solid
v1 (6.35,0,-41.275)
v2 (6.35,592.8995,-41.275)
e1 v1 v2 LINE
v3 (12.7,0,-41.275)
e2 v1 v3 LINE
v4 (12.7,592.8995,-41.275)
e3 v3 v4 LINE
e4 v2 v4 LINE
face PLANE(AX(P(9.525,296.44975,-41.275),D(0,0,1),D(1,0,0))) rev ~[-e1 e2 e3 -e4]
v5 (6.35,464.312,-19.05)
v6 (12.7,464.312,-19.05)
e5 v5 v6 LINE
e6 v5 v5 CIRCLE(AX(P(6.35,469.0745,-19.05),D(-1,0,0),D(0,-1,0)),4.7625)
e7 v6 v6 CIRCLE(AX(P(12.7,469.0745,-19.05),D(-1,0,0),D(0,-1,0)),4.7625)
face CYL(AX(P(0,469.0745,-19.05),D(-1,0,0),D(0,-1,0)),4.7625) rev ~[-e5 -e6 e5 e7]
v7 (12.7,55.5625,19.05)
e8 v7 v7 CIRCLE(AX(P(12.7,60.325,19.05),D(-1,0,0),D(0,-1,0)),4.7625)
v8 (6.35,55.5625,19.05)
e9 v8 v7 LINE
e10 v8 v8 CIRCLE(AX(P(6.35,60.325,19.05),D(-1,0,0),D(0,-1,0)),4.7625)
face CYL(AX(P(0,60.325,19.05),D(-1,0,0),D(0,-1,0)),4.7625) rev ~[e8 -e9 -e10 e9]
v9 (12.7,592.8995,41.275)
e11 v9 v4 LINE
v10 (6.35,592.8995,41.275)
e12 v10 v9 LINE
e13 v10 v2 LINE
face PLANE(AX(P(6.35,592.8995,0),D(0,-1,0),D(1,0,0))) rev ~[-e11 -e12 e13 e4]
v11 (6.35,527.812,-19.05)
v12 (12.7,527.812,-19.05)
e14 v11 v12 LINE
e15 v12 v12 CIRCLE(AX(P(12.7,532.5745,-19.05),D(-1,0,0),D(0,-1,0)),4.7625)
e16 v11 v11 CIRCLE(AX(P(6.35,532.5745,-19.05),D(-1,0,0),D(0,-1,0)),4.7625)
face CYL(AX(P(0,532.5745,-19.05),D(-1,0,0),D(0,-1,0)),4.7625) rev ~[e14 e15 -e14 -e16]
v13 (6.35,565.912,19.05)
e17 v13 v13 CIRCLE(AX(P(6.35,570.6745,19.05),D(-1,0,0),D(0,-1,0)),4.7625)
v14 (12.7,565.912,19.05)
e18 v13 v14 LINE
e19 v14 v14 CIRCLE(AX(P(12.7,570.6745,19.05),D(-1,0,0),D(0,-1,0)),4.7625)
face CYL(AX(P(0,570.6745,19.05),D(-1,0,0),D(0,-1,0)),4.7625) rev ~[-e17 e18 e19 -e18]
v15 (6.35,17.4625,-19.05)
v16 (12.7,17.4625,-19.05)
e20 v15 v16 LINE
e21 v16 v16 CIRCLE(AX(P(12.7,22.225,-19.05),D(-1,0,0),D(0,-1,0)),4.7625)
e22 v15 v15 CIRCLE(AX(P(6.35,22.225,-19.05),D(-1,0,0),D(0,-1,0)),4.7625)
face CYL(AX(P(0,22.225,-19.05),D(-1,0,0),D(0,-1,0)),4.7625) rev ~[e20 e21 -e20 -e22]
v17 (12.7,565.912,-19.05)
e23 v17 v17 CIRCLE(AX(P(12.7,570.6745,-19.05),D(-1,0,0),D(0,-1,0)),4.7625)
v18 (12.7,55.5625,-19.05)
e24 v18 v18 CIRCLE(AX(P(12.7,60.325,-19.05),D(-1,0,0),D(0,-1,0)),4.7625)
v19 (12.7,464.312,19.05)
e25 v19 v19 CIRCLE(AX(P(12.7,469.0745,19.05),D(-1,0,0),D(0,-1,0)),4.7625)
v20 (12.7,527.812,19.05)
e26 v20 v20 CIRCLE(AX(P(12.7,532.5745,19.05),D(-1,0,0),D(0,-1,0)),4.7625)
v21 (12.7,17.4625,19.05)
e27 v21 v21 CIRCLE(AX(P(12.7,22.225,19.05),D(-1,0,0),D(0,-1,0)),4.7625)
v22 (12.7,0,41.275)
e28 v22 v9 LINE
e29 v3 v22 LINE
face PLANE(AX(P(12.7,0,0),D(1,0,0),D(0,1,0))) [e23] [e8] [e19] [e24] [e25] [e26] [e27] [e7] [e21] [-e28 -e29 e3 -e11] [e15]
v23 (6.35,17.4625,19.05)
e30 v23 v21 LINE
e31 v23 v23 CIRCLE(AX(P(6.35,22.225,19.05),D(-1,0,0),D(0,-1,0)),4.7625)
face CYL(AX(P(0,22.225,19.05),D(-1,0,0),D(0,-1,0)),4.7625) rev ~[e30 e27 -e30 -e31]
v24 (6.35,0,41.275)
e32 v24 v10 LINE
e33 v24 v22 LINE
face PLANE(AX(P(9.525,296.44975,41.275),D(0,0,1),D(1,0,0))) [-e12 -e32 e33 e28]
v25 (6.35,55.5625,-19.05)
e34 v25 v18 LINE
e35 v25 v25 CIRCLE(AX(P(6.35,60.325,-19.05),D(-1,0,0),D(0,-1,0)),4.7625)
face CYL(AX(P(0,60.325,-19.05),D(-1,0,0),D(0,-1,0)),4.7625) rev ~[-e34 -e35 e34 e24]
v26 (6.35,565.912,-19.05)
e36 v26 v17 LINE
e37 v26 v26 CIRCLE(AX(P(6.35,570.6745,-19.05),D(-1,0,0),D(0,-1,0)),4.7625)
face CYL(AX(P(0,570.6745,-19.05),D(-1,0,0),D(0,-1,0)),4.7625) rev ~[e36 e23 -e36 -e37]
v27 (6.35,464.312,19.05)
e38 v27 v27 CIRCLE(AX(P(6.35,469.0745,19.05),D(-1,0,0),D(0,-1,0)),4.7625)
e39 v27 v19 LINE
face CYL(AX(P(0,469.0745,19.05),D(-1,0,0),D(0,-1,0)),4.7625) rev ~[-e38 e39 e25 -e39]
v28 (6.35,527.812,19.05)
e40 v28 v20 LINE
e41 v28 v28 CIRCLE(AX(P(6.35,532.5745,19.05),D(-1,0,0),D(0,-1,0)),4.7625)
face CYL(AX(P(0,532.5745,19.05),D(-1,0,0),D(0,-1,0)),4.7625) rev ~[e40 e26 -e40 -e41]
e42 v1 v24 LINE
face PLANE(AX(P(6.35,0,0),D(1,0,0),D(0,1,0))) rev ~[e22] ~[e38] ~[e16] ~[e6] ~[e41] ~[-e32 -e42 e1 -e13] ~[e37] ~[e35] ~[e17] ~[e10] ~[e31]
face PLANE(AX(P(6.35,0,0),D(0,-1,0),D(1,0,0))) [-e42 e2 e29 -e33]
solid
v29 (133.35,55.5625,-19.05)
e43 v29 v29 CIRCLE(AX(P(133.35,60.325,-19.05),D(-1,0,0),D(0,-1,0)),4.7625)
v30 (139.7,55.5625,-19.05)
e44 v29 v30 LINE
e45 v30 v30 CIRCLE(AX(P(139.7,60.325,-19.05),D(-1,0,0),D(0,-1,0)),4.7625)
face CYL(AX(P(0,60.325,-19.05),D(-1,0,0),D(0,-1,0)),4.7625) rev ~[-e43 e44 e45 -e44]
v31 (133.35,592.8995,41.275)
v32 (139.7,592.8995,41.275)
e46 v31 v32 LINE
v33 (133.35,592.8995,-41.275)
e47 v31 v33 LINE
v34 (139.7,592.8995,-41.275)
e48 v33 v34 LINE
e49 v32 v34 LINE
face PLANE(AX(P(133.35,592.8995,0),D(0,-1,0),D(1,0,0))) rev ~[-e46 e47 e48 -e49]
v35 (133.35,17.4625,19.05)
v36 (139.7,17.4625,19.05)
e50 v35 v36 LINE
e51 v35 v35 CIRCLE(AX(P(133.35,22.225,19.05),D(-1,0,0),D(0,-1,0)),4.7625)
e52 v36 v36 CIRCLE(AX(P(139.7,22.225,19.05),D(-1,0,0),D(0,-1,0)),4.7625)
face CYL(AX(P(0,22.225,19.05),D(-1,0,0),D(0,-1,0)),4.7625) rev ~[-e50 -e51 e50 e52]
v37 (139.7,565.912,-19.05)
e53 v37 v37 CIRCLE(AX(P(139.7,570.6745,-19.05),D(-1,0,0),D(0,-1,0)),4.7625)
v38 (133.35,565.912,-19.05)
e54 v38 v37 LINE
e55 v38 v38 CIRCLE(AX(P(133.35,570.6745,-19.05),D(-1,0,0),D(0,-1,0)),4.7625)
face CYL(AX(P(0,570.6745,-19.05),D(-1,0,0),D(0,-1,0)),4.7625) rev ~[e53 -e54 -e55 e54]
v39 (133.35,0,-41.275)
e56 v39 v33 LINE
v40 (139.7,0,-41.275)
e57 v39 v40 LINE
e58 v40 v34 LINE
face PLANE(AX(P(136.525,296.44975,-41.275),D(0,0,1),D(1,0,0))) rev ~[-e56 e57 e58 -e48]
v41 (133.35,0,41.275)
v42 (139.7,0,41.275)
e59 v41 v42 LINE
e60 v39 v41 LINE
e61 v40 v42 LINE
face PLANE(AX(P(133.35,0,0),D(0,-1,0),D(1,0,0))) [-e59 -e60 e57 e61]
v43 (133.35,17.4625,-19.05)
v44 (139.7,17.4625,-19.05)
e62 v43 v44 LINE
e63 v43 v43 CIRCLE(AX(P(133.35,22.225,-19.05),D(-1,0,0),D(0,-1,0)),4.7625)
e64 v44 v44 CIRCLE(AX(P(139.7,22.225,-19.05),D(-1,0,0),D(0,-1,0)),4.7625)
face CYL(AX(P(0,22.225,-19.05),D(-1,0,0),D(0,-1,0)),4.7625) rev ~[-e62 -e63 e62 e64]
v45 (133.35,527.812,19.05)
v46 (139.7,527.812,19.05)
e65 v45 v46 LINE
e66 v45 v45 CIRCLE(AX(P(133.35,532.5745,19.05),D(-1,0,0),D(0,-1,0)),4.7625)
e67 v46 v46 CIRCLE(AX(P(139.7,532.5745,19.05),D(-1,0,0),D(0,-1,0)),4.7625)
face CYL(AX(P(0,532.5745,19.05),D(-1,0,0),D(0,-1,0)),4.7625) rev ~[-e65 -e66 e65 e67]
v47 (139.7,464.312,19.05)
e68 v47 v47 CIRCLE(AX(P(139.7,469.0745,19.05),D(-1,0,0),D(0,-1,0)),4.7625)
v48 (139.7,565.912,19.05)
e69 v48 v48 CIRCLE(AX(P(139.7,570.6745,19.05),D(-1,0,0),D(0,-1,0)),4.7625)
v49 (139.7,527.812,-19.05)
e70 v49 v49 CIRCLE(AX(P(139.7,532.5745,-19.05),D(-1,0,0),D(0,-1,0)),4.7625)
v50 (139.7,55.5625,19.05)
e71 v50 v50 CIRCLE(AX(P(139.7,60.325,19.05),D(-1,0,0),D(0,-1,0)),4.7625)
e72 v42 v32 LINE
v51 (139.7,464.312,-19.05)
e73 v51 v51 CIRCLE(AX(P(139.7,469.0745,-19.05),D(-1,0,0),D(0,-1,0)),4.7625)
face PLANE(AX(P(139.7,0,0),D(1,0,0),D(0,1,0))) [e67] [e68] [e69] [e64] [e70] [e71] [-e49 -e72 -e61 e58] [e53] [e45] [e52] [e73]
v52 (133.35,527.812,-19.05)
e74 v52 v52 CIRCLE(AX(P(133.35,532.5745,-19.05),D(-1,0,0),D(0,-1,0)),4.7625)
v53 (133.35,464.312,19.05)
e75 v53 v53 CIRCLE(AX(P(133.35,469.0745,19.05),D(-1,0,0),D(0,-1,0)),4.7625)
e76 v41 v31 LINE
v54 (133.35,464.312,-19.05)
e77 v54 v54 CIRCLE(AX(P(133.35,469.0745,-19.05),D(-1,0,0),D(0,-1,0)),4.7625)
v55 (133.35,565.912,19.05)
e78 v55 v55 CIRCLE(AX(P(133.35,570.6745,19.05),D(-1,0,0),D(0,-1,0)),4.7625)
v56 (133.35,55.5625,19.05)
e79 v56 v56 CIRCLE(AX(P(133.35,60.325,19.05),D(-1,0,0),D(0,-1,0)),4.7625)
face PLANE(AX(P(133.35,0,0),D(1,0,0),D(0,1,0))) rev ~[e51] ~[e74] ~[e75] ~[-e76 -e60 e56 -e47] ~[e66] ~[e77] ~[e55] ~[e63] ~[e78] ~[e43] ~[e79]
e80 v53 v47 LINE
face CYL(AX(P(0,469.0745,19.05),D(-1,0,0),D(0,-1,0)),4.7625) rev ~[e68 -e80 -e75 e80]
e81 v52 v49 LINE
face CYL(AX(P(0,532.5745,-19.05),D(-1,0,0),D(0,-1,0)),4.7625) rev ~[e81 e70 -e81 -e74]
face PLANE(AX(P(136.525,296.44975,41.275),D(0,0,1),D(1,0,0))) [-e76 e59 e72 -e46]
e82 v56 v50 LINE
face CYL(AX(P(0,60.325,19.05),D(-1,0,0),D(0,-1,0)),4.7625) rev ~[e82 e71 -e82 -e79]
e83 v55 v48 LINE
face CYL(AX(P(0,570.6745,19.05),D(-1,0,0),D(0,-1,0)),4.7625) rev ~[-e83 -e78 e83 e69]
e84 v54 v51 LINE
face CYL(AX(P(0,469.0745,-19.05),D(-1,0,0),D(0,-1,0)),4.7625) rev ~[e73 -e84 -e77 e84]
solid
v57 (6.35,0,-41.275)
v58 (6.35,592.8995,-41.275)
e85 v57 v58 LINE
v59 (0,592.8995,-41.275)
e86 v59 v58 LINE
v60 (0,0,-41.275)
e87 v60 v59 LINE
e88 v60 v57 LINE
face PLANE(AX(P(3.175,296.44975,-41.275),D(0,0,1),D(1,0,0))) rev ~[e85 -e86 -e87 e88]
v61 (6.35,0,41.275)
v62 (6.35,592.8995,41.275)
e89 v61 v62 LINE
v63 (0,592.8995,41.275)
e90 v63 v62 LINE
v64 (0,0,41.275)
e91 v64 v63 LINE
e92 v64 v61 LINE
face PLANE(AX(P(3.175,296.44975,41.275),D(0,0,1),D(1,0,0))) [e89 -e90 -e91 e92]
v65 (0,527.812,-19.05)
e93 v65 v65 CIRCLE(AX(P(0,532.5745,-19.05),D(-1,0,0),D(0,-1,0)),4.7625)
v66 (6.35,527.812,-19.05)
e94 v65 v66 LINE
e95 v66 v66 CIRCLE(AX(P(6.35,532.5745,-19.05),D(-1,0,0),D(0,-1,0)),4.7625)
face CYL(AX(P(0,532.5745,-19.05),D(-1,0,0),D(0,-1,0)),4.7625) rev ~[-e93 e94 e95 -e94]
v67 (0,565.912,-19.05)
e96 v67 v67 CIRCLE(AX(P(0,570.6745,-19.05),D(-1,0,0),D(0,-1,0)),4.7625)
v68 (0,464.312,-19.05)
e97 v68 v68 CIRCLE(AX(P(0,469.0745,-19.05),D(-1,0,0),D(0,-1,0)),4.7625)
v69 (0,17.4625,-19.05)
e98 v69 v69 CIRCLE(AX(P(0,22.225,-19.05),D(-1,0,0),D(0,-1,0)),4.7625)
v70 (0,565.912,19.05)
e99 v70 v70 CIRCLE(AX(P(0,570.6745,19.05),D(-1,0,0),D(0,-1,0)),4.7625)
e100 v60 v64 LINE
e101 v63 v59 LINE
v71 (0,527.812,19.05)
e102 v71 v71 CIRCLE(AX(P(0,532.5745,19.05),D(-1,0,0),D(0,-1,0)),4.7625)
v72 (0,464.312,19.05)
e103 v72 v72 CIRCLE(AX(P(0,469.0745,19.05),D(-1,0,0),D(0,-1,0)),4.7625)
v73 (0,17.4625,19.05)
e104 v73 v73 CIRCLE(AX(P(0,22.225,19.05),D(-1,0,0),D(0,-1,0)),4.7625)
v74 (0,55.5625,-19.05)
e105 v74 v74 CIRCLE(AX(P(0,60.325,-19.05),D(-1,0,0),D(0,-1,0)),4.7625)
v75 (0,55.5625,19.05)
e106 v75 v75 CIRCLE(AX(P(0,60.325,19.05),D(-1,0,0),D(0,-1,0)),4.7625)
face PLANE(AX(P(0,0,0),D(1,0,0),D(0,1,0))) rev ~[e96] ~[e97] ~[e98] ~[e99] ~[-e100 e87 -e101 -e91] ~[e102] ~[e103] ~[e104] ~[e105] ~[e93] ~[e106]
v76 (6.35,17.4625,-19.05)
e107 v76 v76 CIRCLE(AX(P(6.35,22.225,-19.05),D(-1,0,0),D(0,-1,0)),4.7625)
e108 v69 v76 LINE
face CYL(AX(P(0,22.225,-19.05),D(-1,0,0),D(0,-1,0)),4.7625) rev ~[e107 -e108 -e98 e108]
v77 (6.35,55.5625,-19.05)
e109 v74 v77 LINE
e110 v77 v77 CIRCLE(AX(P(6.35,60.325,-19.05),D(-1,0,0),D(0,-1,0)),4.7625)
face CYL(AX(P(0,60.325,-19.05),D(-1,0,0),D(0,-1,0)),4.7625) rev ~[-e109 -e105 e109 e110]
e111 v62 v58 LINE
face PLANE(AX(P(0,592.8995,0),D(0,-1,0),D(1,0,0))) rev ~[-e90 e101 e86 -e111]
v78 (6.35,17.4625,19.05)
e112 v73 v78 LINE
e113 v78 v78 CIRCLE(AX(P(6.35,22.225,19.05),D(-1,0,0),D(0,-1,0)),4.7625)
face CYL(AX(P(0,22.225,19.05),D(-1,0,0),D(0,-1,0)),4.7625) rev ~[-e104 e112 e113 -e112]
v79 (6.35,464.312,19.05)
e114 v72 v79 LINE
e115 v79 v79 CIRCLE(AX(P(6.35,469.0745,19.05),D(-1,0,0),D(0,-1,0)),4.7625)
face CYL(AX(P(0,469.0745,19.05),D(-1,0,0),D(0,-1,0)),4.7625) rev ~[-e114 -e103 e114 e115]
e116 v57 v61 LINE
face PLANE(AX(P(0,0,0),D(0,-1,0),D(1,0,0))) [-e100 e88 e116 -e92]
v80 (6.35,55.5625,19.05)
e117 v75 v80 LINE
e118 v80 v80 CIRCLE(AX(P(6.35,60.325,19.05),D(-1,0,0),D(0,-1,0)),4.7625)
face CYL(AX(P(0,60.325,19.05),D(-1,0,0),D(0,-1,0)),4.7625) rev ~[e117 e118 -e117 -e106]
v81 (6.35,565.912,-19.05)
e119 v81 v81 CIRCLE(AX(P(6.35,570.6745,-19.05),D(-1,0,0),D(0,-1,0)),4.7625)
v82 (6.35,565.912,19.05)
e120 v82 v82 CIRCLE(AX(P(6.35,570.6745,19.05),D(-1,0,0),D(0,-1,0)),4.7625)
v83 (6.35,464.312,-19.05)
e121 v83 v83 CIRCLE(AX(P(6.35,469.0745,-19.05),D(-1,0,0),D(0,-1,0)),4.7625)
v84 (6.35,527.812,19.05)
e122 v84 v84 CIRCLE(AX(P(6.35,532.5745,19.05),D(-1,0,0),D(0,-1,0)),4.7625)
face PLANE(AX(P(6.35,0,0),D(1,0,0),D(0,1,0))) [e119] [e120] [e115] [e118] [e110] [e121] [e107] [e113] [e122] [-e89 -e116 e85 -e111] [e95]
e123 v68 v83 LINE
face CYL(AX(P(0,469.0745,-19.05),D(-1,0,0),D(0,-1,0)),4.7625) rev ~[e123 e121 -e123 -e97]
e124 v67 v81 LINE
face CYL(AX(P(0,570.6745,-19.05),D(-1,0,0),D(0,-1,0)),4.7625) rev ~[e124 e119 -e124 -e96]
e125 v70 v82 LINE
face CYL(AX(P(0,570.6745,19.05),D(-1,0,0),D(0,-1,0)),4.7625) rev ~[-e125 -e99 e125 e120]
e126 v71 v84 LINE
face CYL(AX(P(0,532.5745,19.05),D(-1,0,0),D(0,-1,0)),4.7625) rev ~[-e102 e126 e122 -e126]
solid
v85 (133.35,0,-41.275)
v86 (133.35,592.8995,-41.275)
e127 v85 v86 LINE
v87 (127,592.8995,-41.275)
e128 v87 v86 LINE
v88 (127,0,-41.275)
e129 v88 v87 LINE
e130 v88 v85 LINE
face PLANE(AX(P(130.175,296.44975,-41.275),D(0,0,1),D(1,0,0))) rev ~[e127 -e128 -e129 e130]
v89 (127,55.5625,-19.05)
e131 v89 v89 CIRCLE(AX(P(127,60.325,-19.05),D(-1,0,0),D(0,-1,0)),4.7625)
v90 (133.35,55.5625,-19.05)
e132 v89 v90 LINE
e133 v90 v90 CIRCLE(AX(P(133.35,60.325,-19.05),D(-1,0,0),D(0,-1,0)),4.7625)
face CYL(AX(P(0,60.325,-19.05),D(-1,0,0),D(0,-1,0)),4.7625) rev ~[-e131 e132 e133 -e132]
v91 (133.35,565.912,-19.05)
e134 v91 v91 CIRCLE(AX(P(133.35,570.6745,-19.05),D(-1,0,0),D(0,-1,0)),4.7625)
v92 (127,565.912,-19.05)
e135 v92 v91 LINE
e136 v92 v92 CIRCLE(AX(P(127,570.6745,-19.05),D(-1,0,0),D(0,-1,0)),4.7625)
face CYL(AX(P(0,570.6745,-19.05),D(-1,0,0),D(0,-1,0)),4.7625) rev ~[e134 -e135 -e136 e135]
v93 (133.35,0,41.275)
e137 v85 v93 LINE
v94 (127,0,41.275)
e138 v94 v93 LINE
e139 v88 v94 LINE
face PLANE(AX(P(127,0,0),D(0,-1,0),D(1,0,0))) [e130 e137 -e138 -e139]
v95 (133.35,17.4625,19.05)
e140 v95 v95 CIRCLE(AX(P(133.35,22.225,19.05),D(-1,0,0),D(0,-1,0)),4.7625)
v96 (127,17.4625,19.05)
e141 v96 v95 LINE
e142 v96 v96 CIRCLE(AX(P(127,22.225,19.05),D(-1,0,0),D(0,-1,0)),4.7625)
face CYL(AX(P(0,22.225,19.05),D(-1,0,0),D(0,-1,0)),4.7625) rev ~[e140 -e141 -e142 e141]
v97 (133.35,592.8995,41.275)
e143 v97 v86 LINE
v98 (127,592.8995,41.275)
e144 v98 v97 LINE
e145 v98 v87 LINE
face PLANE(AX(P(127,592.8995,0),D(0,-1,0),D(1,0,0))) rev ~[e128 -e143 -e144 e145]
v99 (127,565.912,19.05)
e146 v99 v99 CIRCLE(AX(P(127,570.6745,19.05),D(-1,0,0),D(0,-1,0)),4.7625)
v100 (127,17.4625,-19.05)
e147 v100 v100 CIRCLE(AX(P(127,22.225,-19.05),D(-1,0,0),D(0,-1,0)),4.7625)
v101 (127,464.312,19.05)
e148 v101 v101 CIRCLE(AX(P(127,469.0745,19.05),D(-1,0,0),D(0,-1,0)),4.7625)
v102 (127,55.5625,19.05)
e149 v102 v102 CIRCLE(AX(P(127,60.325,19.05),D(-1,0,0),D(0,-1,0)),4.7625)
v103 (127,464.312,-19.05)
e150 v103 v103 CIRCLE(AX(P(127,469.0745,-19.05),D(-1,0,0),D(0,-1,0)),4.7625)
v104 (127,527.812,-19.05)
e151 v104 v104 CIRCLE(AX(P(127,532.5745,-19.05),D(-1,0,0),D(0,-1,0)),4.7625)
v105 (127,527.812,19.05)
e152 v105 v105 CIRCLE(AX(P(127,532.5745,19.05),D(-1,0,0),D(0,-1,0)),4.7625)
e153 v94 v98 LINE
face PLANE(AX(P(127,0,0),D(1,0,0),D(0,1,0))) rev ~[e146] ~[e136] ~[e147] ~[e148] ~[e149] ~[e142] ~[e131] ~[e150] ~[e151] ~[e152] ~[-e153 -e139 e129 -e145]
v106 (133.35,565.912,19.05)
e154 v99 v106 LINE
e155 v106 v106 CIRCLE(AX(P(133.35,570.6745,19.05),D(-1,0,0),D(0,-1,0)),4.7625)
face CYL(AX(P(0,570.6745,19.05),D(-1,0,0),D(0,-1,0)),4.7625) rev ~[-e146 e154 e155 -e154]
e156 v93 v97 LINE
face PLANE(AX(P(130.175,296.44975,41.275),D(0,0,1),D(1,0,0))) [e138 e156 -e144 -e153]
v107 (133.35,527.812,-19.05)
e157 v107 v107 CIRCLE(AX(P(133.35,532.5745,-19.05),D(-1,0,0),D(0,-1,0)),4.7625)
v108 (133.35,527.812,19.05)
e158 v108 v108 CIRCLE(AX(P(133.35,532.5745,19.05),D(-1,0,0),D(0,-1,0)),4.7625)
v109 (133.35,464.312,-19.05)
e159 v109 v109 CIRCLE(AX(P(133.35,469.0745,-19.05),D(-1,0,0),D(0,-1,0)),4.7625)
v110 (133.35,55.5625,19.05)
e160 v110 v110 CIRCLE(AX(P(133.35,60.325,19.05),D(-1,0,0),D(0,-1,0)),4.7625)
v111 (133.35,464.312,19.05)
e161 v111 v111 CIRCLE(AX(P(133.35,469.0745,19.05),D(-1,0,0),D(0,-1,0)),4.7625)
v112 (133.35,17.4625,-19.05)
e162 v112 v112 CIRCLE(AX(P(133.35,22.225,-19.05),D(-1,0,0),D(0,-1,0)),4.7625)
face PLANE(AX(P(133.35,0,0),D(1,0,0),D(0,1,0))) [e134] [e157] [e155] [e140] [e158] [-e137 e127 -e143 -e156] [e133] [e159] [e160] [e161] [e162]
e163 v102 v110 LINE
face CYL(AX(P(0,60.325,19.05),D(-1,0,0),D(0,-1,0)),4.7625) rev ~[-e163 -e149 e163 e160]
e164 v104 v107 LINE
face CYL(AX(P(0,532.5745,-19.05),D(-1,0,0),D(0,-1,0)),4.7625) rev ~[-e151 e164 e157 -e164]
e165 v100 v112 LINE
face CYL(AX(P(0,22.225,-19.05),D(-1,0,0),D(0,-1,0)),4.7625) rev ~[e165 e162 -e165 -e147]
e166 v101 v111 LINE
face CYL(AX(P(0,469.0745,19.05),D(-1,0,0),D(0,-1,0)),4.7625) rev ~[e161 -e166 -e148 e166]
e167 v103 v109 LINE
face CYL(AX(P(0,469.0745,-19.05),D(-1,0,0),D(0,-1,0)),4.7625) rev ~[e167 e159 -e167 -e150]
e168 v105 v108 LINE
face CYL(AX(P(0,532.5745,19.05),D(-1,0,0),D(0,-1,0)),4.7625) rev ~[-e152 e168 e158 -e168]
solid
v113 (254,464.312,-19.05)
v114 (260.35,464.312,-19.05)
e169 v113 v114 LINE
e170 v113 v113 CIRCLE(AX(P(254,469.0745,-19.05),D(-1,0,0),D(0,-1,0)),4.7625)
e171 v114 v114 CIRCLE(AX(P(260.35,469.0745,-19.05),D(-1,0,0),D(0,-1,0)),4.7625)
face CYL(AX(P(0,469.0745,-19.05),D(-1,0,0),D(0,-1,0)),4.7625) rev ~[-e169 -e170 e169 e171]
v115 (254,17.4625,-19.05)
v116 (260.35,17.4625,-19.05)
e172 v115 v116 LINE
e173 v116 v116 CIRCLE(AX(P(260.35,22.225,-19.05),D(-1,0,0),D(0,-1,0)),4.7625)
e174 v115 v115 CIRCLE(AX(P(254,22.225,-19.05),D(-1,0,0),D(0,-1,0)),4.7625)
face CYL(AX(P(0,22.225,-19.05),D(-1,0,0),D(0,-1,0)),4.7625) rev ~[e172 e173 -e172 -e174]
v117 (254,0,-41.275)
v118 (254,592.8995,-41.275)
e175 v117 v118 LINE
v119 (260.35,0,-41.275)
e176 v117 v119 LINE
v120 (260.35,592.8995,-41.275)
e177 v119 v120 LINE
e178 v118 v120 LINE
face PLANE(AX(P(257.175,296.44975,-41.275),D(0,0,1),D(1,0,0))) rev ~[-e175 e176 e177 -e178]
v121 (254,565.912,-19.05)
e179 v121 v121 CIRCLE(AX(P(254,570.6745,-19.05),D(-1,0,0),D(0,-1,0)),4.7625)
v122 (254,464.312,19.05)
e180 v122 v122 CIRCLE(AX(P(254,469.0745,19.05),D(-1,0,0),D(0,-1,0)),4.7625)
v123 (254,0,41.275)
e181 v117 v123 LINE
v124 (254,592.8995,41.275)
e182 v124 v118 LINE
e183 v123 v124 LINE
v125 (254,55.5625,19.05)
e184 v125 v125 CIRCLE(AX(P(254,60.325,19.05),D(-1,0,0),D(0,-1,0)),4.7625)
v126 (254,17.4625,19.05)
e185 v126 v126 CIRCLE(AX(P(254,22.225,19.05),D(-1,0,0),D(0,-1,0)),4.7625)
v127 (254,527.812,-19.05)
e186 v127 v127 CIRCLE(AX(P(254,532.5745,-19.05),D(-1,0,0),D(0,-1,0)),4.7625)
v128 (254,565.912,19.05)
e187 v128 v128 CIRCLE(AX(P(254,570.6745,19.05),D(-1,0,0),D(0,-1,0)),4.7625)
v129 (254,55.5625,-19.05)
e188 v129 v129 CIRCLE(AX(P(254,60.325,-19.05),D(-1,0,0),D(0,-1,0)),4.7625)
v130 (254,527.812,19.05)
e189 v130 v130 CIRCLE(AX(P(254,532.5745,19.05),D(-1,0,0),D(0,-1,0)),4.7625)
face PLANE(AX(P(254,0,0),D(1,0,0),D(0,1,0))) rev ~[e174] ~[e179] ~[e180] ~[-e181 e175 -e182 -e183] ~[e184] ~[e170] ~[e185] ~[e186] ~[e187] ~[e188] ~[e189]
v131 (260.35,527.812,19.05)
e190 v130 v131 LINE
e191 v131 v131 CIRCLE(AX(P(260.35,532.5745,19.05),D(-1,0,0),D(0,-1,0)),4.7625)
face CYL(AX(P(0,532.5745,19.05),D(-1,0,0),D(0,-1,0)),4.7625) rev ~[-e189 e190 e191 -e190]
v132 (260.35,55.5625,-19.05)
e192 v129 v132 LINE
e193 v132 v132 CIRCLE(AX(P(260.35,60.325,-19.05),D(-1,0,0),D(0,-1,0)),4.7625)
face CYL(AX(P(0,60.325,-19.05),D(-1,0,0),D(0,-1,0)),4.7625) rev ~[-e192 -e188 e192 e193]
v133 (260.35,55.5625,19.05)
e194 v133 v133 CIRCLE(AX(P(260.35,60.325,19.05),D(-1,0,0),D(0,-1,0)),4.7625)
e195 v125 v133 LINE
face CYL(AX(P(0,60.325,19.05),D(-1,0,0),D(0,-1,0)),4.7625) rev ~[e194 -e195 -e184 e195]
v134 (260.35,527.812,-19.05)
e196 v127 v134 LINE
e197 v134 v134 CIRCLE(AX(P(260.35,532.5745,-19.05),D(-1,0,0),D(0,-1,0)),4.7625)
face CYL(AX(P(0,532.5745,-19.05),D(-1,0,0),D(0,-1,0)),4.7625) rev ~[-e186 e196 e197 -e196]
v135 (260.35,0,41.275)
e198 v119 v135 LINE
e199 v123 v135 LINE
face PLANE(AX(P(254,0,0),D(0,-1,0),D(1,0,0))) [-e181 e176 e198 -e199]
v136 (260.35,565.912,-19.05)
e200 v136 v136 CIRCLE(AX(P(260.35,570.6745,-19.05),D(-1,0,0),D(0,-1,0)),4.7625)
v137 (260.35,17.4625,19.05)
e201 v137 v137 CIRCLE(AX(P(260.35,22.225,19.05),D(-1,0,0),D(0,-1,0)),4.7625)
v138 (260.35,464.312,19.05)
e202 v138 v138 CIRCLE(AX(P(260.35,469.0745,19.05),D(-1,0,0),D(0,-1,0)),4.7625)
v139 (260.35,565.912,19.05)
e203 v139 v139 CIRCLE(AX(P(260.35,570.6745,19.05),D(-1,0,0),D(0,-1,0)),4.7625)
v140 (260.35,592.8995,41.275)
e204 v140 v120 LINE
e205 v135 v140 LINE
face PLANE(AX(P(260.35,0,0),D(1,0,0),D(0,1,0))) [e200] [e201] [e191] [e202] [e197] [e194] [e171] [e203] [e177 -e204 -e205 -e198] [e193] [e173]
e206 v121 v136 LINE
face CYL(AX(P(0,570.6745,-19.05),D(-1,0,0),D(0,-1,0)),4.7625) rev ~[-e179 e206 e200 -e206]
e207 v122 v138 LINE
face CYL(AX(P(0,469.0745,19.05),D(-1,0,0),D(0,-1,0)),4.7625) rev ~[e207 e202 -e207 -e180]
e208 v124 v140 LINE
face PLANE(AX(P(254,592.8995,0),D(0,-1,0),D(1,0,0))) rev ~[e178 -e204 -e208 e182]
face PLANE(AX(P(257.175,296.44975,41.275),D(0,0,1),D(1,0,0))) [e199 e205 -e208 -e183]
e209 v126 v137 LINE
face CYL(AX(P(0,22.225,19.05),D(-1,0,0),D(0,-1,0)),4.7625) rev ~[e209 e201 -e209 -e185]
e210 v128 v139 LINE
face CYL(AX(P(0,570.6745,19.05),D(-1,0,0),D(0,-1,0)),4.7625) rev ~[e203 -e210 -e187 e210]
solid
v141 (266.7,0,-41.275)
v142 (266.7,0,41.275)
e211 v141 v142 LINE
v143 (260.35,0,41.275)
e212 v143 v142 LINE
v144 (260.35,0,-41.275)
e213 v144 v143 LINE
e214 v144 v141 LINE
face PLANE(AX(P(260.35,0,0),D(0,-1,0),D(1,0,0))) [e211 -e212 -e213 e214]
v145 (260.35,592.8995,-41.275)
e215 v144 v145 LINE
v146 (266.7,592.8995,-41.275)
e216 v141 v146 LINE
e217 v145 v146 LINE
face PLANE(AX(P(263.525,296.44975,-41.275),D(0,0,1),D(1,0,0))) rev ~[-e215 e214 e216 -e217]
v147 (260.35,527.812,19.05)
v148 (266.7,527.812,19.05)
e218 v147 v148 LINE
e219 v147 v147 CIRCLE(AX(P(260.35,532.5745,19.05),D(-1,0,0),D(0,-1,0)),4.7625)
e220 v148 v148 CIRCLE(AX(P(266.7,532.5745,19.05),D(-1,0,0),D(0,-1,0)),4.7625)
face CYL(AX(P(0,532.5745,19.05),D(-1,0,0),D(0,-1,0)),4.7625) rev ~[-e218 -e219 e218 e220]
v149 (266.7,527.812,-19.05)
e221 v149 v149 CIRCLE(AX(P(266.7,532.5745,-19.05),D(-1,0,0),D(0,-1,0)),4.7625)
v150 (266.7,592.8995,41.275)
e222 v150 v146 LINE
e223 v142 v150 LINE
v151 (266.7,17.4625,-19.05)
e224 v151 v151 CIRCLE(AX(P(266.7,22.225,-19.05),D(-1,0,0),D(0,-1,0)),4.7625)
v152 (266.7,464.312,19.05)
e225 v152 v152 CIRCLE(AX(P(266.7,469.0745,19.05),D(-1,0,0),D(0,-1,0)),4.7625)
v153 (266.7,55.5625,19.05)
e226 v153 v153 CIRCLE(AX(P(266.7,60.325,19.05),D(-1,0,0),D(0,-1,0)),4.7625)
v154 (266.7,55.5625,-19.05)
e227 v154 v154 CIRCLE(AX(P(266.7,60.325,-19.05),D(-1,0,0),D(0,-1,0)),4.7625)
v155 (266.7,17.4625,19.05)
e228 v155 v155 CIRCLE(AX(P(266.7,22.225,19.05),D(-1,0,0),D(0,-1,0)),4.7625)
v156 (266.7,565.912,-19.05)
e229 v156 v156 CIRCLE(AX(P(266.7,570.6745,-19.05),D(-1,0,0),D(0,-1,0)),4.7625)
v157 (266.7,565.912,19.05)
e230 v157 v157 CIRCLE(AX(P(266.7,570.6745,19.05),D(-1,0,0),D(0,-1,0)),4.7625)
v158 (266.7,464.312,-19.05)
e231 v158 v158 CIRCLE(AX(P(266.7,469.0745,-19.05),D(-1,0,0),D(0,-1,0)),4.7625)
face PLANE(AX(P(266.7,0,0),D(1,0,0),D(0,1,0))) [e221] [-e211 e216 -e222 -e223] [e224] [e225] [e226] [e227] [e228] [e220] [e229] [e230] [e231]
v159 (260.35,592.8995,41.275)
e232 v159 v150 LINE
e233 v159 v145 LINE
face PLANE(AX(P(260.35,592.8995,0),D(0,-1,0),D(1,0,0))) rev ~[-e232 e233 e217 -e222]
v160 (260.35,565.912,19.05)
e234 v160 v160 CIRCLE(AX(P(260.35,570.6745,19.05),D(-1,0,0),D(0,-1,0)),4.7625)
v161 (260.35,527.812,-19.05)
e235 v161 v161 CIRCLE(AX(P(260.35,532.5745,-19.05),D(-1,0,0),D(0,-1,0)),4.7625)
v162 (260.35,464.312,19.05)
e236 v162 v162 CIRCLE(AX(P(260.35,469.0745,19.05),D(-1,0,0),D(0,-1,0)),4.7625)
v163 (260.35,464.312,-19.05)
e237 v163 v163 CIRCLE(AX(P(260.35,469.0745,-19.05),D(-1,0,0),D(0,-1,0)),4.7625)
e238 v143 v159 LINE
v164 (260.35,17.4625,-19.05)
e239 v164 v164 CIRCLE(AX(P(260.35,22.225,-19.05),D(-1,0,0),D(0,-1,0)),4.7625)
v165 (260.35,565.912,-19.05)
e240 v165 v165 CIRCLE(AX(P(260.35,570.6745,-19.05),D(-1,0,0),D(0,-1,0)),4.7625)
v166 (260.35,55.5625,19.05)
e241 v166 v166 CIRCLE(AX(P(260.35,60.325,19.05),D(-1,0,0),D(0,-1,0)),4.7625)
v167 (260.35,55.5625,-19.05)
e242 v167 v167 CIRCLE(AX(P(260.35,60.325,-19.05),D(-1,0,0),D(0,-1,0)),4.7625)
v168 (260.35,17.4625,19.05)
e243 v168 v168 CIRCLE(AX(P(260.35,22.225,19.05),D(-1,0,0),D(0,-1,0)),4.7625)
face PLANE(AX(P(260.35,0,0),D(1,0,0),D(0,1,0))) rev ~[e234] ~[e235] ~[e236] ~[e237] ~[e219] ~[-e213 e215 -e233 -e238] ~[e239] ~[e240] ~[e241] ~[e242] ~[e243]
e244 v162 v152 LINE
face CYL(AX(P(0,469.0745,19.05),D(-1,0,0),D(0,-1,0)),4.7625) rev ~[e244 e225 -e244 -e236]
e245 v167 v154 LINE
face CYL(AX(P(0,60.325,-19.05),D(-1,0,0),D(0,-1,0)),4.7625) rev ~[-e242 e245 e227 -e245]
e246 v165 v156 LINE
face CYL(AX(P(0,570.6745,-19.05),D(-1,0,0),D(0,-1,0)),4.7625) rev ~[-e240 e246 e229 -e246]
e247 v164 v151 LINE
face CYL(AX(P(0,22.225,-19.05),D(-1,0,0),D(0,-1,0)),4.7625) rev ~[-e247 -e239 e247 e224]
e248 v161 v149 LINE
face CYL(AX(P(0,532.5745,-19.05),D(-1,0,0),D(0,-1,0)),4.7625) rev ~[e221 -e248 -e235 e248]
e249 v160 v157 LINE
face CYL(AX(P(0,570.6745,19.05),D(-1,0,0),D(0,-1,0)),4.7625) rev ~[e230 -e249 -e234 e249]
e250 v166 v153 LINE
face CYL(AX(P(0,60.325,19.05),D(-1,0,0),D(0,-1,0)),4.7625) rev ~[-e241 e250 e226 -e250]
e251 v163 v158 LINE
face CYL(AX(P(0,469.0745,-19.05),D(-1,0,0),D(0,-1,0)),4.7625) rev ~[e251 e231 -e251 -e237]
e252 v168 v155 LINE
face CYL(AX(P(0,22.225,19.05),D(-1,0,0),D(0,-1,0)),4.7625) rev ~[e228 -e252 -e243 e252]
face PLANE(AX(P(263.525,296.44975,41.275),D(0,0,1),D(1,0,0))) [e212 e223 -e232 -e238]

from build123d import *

# Parameters (mm, degrees)
F0_W     = 6.35
F0_H     = 592.8995
F2_DEPTH = 41.275
F1_W     = 6.35
F1_H     = 592.8995
F3_R     = 4.7625
F4_DEPTH = 266.701


with BuildPart() as f2:
    # F0 (on Top) → F2 (new body, symmetric)
    with BuildSketch(Plane.XY):
        with Locations((3.175, 296.44975)):
            Rectangle(F0_W, F0_H)
    extrude(amount=F2_DEPTH, both=True)


with BuildPart() as f2b:
    # F0 (on Top) → F2, piece 2 (new body, symmetric)
    with BuildSketch(Plane.XY):
        with Locations((130.175, 296.44975)):
            Rectangle(F0_W, F0_H)
    extrude(amount=F2_DEPTH, both=True)


with BuildPart() as f2c:
    # F0 (on Top) → F2, piece 3 (new body, symmetric)
    with BuildSketch(Plane.XY):
        with Locations((257.175, 296.44975)):
            Rectangle(F0_W, F0_H)
    extrude(amount=F2_DEPTH, both=True)


with BuildPart() as f2d:
    # F1 (on Top) → F2, piece 4 (new body, symmetric)
    with BuildSketch(Plane.XY):
        with Locations((9.525, 296.44975)):
            Rectangle(F1_W, F1_H)
    extrude(amount=F2_DEPTH, both=True)


with BuildPart() as f2e:
    # F1 (on Top) → F2, piece 5 (new body, symmetric)
    with BuildSketch(Plane.XY):
        with Locations((136.525, 296.44975)):
            Rectangle(F1_W, F1_H)
    extrude(amount=F2_DEPTH, both=True)


with BuildPart() as f2f:
    # F1 (on Top) → F2, piece 6 (new body, symmetric)
    with BuildSketch(Plane.XY):
        with Locations((263.525, 296.44975)):
            Rectangle(F1_W, F1_H)
    extrude(amount=F2_DEPTH, both=True)


with BuildPart() as f4_tool:
    # F3 (on face) → F4 (new body, through all)
    with BuildSketch(Plane(origin=(0, 0, 0), x_dir=(0, -1, 0), z_dir=(-1, 0, 0))):
        with Locations((-22.225, 19.05)):
            Circle(F3_R)
        with Locations((-60.325, 19.05)):
            Circle(F3_R)
        with Locations((-60.325, -19.05)):
            Circle(F3_R)
        with Locations((-22.225, -19.05)):
            Circle(F3_R)
        with Locations((-570.6745, 19.05)):
            Circle(F3_R)
        with Locations((-532.5745, 19.05)):
            Circle(F3_R)
        with Locations((-532.5745, -19.05)):
            Circle(F3_R)
        with Locations((-570.6745, -19.05)):
            Circle(F3_R)
        with Locations((-469.0745, 19.05)):
            Circle(F3_R)
        with Locations((-469.0745, -19.05)):
            Circle(F3_R)
    extrude(amount=-F4_DEPTH)


with BuildPart() as f2_1:
    add(f2.part)

    # F4: cut by f4_tool
    add(f4_tool.part, mode=Mode.SUBTRACT)


with BuildPart() as f2b_1:
    add(f2b.part)

    # F4: cut by f4_tool
    add(f4_tool.part, mode=Mode.SUBTRACT)


with BuildPart() as f2c_1:
    add(f2c.part)

    # F4: cut by f4_tool
    add(f4_tool.part, mode=Mode.SUBTRACT)


with BuildPart() as f2d_1:
    add(f2d.part)

    # F4: cut by f4_tool
    add(f4_tool.part, mode=Mode.SUBTRACT)


with BuildPart() as f2e_1:
    add(f2e.part)

    # F4: cut by f4_tool
    add(f4_tool.part, mode=Mode.SUBTRACT)


with BuildPart() as f2f_1:
    add(f2f.part)

    # F4: cut by f4_tool
    add(f4_tool.part, mode=Mode.SUBTRACT)


solid = Compound([f2_1.part, f2b_1.part, f2c_1.part, f2d_1.part, f2e_1.part, f2f_1.part])
